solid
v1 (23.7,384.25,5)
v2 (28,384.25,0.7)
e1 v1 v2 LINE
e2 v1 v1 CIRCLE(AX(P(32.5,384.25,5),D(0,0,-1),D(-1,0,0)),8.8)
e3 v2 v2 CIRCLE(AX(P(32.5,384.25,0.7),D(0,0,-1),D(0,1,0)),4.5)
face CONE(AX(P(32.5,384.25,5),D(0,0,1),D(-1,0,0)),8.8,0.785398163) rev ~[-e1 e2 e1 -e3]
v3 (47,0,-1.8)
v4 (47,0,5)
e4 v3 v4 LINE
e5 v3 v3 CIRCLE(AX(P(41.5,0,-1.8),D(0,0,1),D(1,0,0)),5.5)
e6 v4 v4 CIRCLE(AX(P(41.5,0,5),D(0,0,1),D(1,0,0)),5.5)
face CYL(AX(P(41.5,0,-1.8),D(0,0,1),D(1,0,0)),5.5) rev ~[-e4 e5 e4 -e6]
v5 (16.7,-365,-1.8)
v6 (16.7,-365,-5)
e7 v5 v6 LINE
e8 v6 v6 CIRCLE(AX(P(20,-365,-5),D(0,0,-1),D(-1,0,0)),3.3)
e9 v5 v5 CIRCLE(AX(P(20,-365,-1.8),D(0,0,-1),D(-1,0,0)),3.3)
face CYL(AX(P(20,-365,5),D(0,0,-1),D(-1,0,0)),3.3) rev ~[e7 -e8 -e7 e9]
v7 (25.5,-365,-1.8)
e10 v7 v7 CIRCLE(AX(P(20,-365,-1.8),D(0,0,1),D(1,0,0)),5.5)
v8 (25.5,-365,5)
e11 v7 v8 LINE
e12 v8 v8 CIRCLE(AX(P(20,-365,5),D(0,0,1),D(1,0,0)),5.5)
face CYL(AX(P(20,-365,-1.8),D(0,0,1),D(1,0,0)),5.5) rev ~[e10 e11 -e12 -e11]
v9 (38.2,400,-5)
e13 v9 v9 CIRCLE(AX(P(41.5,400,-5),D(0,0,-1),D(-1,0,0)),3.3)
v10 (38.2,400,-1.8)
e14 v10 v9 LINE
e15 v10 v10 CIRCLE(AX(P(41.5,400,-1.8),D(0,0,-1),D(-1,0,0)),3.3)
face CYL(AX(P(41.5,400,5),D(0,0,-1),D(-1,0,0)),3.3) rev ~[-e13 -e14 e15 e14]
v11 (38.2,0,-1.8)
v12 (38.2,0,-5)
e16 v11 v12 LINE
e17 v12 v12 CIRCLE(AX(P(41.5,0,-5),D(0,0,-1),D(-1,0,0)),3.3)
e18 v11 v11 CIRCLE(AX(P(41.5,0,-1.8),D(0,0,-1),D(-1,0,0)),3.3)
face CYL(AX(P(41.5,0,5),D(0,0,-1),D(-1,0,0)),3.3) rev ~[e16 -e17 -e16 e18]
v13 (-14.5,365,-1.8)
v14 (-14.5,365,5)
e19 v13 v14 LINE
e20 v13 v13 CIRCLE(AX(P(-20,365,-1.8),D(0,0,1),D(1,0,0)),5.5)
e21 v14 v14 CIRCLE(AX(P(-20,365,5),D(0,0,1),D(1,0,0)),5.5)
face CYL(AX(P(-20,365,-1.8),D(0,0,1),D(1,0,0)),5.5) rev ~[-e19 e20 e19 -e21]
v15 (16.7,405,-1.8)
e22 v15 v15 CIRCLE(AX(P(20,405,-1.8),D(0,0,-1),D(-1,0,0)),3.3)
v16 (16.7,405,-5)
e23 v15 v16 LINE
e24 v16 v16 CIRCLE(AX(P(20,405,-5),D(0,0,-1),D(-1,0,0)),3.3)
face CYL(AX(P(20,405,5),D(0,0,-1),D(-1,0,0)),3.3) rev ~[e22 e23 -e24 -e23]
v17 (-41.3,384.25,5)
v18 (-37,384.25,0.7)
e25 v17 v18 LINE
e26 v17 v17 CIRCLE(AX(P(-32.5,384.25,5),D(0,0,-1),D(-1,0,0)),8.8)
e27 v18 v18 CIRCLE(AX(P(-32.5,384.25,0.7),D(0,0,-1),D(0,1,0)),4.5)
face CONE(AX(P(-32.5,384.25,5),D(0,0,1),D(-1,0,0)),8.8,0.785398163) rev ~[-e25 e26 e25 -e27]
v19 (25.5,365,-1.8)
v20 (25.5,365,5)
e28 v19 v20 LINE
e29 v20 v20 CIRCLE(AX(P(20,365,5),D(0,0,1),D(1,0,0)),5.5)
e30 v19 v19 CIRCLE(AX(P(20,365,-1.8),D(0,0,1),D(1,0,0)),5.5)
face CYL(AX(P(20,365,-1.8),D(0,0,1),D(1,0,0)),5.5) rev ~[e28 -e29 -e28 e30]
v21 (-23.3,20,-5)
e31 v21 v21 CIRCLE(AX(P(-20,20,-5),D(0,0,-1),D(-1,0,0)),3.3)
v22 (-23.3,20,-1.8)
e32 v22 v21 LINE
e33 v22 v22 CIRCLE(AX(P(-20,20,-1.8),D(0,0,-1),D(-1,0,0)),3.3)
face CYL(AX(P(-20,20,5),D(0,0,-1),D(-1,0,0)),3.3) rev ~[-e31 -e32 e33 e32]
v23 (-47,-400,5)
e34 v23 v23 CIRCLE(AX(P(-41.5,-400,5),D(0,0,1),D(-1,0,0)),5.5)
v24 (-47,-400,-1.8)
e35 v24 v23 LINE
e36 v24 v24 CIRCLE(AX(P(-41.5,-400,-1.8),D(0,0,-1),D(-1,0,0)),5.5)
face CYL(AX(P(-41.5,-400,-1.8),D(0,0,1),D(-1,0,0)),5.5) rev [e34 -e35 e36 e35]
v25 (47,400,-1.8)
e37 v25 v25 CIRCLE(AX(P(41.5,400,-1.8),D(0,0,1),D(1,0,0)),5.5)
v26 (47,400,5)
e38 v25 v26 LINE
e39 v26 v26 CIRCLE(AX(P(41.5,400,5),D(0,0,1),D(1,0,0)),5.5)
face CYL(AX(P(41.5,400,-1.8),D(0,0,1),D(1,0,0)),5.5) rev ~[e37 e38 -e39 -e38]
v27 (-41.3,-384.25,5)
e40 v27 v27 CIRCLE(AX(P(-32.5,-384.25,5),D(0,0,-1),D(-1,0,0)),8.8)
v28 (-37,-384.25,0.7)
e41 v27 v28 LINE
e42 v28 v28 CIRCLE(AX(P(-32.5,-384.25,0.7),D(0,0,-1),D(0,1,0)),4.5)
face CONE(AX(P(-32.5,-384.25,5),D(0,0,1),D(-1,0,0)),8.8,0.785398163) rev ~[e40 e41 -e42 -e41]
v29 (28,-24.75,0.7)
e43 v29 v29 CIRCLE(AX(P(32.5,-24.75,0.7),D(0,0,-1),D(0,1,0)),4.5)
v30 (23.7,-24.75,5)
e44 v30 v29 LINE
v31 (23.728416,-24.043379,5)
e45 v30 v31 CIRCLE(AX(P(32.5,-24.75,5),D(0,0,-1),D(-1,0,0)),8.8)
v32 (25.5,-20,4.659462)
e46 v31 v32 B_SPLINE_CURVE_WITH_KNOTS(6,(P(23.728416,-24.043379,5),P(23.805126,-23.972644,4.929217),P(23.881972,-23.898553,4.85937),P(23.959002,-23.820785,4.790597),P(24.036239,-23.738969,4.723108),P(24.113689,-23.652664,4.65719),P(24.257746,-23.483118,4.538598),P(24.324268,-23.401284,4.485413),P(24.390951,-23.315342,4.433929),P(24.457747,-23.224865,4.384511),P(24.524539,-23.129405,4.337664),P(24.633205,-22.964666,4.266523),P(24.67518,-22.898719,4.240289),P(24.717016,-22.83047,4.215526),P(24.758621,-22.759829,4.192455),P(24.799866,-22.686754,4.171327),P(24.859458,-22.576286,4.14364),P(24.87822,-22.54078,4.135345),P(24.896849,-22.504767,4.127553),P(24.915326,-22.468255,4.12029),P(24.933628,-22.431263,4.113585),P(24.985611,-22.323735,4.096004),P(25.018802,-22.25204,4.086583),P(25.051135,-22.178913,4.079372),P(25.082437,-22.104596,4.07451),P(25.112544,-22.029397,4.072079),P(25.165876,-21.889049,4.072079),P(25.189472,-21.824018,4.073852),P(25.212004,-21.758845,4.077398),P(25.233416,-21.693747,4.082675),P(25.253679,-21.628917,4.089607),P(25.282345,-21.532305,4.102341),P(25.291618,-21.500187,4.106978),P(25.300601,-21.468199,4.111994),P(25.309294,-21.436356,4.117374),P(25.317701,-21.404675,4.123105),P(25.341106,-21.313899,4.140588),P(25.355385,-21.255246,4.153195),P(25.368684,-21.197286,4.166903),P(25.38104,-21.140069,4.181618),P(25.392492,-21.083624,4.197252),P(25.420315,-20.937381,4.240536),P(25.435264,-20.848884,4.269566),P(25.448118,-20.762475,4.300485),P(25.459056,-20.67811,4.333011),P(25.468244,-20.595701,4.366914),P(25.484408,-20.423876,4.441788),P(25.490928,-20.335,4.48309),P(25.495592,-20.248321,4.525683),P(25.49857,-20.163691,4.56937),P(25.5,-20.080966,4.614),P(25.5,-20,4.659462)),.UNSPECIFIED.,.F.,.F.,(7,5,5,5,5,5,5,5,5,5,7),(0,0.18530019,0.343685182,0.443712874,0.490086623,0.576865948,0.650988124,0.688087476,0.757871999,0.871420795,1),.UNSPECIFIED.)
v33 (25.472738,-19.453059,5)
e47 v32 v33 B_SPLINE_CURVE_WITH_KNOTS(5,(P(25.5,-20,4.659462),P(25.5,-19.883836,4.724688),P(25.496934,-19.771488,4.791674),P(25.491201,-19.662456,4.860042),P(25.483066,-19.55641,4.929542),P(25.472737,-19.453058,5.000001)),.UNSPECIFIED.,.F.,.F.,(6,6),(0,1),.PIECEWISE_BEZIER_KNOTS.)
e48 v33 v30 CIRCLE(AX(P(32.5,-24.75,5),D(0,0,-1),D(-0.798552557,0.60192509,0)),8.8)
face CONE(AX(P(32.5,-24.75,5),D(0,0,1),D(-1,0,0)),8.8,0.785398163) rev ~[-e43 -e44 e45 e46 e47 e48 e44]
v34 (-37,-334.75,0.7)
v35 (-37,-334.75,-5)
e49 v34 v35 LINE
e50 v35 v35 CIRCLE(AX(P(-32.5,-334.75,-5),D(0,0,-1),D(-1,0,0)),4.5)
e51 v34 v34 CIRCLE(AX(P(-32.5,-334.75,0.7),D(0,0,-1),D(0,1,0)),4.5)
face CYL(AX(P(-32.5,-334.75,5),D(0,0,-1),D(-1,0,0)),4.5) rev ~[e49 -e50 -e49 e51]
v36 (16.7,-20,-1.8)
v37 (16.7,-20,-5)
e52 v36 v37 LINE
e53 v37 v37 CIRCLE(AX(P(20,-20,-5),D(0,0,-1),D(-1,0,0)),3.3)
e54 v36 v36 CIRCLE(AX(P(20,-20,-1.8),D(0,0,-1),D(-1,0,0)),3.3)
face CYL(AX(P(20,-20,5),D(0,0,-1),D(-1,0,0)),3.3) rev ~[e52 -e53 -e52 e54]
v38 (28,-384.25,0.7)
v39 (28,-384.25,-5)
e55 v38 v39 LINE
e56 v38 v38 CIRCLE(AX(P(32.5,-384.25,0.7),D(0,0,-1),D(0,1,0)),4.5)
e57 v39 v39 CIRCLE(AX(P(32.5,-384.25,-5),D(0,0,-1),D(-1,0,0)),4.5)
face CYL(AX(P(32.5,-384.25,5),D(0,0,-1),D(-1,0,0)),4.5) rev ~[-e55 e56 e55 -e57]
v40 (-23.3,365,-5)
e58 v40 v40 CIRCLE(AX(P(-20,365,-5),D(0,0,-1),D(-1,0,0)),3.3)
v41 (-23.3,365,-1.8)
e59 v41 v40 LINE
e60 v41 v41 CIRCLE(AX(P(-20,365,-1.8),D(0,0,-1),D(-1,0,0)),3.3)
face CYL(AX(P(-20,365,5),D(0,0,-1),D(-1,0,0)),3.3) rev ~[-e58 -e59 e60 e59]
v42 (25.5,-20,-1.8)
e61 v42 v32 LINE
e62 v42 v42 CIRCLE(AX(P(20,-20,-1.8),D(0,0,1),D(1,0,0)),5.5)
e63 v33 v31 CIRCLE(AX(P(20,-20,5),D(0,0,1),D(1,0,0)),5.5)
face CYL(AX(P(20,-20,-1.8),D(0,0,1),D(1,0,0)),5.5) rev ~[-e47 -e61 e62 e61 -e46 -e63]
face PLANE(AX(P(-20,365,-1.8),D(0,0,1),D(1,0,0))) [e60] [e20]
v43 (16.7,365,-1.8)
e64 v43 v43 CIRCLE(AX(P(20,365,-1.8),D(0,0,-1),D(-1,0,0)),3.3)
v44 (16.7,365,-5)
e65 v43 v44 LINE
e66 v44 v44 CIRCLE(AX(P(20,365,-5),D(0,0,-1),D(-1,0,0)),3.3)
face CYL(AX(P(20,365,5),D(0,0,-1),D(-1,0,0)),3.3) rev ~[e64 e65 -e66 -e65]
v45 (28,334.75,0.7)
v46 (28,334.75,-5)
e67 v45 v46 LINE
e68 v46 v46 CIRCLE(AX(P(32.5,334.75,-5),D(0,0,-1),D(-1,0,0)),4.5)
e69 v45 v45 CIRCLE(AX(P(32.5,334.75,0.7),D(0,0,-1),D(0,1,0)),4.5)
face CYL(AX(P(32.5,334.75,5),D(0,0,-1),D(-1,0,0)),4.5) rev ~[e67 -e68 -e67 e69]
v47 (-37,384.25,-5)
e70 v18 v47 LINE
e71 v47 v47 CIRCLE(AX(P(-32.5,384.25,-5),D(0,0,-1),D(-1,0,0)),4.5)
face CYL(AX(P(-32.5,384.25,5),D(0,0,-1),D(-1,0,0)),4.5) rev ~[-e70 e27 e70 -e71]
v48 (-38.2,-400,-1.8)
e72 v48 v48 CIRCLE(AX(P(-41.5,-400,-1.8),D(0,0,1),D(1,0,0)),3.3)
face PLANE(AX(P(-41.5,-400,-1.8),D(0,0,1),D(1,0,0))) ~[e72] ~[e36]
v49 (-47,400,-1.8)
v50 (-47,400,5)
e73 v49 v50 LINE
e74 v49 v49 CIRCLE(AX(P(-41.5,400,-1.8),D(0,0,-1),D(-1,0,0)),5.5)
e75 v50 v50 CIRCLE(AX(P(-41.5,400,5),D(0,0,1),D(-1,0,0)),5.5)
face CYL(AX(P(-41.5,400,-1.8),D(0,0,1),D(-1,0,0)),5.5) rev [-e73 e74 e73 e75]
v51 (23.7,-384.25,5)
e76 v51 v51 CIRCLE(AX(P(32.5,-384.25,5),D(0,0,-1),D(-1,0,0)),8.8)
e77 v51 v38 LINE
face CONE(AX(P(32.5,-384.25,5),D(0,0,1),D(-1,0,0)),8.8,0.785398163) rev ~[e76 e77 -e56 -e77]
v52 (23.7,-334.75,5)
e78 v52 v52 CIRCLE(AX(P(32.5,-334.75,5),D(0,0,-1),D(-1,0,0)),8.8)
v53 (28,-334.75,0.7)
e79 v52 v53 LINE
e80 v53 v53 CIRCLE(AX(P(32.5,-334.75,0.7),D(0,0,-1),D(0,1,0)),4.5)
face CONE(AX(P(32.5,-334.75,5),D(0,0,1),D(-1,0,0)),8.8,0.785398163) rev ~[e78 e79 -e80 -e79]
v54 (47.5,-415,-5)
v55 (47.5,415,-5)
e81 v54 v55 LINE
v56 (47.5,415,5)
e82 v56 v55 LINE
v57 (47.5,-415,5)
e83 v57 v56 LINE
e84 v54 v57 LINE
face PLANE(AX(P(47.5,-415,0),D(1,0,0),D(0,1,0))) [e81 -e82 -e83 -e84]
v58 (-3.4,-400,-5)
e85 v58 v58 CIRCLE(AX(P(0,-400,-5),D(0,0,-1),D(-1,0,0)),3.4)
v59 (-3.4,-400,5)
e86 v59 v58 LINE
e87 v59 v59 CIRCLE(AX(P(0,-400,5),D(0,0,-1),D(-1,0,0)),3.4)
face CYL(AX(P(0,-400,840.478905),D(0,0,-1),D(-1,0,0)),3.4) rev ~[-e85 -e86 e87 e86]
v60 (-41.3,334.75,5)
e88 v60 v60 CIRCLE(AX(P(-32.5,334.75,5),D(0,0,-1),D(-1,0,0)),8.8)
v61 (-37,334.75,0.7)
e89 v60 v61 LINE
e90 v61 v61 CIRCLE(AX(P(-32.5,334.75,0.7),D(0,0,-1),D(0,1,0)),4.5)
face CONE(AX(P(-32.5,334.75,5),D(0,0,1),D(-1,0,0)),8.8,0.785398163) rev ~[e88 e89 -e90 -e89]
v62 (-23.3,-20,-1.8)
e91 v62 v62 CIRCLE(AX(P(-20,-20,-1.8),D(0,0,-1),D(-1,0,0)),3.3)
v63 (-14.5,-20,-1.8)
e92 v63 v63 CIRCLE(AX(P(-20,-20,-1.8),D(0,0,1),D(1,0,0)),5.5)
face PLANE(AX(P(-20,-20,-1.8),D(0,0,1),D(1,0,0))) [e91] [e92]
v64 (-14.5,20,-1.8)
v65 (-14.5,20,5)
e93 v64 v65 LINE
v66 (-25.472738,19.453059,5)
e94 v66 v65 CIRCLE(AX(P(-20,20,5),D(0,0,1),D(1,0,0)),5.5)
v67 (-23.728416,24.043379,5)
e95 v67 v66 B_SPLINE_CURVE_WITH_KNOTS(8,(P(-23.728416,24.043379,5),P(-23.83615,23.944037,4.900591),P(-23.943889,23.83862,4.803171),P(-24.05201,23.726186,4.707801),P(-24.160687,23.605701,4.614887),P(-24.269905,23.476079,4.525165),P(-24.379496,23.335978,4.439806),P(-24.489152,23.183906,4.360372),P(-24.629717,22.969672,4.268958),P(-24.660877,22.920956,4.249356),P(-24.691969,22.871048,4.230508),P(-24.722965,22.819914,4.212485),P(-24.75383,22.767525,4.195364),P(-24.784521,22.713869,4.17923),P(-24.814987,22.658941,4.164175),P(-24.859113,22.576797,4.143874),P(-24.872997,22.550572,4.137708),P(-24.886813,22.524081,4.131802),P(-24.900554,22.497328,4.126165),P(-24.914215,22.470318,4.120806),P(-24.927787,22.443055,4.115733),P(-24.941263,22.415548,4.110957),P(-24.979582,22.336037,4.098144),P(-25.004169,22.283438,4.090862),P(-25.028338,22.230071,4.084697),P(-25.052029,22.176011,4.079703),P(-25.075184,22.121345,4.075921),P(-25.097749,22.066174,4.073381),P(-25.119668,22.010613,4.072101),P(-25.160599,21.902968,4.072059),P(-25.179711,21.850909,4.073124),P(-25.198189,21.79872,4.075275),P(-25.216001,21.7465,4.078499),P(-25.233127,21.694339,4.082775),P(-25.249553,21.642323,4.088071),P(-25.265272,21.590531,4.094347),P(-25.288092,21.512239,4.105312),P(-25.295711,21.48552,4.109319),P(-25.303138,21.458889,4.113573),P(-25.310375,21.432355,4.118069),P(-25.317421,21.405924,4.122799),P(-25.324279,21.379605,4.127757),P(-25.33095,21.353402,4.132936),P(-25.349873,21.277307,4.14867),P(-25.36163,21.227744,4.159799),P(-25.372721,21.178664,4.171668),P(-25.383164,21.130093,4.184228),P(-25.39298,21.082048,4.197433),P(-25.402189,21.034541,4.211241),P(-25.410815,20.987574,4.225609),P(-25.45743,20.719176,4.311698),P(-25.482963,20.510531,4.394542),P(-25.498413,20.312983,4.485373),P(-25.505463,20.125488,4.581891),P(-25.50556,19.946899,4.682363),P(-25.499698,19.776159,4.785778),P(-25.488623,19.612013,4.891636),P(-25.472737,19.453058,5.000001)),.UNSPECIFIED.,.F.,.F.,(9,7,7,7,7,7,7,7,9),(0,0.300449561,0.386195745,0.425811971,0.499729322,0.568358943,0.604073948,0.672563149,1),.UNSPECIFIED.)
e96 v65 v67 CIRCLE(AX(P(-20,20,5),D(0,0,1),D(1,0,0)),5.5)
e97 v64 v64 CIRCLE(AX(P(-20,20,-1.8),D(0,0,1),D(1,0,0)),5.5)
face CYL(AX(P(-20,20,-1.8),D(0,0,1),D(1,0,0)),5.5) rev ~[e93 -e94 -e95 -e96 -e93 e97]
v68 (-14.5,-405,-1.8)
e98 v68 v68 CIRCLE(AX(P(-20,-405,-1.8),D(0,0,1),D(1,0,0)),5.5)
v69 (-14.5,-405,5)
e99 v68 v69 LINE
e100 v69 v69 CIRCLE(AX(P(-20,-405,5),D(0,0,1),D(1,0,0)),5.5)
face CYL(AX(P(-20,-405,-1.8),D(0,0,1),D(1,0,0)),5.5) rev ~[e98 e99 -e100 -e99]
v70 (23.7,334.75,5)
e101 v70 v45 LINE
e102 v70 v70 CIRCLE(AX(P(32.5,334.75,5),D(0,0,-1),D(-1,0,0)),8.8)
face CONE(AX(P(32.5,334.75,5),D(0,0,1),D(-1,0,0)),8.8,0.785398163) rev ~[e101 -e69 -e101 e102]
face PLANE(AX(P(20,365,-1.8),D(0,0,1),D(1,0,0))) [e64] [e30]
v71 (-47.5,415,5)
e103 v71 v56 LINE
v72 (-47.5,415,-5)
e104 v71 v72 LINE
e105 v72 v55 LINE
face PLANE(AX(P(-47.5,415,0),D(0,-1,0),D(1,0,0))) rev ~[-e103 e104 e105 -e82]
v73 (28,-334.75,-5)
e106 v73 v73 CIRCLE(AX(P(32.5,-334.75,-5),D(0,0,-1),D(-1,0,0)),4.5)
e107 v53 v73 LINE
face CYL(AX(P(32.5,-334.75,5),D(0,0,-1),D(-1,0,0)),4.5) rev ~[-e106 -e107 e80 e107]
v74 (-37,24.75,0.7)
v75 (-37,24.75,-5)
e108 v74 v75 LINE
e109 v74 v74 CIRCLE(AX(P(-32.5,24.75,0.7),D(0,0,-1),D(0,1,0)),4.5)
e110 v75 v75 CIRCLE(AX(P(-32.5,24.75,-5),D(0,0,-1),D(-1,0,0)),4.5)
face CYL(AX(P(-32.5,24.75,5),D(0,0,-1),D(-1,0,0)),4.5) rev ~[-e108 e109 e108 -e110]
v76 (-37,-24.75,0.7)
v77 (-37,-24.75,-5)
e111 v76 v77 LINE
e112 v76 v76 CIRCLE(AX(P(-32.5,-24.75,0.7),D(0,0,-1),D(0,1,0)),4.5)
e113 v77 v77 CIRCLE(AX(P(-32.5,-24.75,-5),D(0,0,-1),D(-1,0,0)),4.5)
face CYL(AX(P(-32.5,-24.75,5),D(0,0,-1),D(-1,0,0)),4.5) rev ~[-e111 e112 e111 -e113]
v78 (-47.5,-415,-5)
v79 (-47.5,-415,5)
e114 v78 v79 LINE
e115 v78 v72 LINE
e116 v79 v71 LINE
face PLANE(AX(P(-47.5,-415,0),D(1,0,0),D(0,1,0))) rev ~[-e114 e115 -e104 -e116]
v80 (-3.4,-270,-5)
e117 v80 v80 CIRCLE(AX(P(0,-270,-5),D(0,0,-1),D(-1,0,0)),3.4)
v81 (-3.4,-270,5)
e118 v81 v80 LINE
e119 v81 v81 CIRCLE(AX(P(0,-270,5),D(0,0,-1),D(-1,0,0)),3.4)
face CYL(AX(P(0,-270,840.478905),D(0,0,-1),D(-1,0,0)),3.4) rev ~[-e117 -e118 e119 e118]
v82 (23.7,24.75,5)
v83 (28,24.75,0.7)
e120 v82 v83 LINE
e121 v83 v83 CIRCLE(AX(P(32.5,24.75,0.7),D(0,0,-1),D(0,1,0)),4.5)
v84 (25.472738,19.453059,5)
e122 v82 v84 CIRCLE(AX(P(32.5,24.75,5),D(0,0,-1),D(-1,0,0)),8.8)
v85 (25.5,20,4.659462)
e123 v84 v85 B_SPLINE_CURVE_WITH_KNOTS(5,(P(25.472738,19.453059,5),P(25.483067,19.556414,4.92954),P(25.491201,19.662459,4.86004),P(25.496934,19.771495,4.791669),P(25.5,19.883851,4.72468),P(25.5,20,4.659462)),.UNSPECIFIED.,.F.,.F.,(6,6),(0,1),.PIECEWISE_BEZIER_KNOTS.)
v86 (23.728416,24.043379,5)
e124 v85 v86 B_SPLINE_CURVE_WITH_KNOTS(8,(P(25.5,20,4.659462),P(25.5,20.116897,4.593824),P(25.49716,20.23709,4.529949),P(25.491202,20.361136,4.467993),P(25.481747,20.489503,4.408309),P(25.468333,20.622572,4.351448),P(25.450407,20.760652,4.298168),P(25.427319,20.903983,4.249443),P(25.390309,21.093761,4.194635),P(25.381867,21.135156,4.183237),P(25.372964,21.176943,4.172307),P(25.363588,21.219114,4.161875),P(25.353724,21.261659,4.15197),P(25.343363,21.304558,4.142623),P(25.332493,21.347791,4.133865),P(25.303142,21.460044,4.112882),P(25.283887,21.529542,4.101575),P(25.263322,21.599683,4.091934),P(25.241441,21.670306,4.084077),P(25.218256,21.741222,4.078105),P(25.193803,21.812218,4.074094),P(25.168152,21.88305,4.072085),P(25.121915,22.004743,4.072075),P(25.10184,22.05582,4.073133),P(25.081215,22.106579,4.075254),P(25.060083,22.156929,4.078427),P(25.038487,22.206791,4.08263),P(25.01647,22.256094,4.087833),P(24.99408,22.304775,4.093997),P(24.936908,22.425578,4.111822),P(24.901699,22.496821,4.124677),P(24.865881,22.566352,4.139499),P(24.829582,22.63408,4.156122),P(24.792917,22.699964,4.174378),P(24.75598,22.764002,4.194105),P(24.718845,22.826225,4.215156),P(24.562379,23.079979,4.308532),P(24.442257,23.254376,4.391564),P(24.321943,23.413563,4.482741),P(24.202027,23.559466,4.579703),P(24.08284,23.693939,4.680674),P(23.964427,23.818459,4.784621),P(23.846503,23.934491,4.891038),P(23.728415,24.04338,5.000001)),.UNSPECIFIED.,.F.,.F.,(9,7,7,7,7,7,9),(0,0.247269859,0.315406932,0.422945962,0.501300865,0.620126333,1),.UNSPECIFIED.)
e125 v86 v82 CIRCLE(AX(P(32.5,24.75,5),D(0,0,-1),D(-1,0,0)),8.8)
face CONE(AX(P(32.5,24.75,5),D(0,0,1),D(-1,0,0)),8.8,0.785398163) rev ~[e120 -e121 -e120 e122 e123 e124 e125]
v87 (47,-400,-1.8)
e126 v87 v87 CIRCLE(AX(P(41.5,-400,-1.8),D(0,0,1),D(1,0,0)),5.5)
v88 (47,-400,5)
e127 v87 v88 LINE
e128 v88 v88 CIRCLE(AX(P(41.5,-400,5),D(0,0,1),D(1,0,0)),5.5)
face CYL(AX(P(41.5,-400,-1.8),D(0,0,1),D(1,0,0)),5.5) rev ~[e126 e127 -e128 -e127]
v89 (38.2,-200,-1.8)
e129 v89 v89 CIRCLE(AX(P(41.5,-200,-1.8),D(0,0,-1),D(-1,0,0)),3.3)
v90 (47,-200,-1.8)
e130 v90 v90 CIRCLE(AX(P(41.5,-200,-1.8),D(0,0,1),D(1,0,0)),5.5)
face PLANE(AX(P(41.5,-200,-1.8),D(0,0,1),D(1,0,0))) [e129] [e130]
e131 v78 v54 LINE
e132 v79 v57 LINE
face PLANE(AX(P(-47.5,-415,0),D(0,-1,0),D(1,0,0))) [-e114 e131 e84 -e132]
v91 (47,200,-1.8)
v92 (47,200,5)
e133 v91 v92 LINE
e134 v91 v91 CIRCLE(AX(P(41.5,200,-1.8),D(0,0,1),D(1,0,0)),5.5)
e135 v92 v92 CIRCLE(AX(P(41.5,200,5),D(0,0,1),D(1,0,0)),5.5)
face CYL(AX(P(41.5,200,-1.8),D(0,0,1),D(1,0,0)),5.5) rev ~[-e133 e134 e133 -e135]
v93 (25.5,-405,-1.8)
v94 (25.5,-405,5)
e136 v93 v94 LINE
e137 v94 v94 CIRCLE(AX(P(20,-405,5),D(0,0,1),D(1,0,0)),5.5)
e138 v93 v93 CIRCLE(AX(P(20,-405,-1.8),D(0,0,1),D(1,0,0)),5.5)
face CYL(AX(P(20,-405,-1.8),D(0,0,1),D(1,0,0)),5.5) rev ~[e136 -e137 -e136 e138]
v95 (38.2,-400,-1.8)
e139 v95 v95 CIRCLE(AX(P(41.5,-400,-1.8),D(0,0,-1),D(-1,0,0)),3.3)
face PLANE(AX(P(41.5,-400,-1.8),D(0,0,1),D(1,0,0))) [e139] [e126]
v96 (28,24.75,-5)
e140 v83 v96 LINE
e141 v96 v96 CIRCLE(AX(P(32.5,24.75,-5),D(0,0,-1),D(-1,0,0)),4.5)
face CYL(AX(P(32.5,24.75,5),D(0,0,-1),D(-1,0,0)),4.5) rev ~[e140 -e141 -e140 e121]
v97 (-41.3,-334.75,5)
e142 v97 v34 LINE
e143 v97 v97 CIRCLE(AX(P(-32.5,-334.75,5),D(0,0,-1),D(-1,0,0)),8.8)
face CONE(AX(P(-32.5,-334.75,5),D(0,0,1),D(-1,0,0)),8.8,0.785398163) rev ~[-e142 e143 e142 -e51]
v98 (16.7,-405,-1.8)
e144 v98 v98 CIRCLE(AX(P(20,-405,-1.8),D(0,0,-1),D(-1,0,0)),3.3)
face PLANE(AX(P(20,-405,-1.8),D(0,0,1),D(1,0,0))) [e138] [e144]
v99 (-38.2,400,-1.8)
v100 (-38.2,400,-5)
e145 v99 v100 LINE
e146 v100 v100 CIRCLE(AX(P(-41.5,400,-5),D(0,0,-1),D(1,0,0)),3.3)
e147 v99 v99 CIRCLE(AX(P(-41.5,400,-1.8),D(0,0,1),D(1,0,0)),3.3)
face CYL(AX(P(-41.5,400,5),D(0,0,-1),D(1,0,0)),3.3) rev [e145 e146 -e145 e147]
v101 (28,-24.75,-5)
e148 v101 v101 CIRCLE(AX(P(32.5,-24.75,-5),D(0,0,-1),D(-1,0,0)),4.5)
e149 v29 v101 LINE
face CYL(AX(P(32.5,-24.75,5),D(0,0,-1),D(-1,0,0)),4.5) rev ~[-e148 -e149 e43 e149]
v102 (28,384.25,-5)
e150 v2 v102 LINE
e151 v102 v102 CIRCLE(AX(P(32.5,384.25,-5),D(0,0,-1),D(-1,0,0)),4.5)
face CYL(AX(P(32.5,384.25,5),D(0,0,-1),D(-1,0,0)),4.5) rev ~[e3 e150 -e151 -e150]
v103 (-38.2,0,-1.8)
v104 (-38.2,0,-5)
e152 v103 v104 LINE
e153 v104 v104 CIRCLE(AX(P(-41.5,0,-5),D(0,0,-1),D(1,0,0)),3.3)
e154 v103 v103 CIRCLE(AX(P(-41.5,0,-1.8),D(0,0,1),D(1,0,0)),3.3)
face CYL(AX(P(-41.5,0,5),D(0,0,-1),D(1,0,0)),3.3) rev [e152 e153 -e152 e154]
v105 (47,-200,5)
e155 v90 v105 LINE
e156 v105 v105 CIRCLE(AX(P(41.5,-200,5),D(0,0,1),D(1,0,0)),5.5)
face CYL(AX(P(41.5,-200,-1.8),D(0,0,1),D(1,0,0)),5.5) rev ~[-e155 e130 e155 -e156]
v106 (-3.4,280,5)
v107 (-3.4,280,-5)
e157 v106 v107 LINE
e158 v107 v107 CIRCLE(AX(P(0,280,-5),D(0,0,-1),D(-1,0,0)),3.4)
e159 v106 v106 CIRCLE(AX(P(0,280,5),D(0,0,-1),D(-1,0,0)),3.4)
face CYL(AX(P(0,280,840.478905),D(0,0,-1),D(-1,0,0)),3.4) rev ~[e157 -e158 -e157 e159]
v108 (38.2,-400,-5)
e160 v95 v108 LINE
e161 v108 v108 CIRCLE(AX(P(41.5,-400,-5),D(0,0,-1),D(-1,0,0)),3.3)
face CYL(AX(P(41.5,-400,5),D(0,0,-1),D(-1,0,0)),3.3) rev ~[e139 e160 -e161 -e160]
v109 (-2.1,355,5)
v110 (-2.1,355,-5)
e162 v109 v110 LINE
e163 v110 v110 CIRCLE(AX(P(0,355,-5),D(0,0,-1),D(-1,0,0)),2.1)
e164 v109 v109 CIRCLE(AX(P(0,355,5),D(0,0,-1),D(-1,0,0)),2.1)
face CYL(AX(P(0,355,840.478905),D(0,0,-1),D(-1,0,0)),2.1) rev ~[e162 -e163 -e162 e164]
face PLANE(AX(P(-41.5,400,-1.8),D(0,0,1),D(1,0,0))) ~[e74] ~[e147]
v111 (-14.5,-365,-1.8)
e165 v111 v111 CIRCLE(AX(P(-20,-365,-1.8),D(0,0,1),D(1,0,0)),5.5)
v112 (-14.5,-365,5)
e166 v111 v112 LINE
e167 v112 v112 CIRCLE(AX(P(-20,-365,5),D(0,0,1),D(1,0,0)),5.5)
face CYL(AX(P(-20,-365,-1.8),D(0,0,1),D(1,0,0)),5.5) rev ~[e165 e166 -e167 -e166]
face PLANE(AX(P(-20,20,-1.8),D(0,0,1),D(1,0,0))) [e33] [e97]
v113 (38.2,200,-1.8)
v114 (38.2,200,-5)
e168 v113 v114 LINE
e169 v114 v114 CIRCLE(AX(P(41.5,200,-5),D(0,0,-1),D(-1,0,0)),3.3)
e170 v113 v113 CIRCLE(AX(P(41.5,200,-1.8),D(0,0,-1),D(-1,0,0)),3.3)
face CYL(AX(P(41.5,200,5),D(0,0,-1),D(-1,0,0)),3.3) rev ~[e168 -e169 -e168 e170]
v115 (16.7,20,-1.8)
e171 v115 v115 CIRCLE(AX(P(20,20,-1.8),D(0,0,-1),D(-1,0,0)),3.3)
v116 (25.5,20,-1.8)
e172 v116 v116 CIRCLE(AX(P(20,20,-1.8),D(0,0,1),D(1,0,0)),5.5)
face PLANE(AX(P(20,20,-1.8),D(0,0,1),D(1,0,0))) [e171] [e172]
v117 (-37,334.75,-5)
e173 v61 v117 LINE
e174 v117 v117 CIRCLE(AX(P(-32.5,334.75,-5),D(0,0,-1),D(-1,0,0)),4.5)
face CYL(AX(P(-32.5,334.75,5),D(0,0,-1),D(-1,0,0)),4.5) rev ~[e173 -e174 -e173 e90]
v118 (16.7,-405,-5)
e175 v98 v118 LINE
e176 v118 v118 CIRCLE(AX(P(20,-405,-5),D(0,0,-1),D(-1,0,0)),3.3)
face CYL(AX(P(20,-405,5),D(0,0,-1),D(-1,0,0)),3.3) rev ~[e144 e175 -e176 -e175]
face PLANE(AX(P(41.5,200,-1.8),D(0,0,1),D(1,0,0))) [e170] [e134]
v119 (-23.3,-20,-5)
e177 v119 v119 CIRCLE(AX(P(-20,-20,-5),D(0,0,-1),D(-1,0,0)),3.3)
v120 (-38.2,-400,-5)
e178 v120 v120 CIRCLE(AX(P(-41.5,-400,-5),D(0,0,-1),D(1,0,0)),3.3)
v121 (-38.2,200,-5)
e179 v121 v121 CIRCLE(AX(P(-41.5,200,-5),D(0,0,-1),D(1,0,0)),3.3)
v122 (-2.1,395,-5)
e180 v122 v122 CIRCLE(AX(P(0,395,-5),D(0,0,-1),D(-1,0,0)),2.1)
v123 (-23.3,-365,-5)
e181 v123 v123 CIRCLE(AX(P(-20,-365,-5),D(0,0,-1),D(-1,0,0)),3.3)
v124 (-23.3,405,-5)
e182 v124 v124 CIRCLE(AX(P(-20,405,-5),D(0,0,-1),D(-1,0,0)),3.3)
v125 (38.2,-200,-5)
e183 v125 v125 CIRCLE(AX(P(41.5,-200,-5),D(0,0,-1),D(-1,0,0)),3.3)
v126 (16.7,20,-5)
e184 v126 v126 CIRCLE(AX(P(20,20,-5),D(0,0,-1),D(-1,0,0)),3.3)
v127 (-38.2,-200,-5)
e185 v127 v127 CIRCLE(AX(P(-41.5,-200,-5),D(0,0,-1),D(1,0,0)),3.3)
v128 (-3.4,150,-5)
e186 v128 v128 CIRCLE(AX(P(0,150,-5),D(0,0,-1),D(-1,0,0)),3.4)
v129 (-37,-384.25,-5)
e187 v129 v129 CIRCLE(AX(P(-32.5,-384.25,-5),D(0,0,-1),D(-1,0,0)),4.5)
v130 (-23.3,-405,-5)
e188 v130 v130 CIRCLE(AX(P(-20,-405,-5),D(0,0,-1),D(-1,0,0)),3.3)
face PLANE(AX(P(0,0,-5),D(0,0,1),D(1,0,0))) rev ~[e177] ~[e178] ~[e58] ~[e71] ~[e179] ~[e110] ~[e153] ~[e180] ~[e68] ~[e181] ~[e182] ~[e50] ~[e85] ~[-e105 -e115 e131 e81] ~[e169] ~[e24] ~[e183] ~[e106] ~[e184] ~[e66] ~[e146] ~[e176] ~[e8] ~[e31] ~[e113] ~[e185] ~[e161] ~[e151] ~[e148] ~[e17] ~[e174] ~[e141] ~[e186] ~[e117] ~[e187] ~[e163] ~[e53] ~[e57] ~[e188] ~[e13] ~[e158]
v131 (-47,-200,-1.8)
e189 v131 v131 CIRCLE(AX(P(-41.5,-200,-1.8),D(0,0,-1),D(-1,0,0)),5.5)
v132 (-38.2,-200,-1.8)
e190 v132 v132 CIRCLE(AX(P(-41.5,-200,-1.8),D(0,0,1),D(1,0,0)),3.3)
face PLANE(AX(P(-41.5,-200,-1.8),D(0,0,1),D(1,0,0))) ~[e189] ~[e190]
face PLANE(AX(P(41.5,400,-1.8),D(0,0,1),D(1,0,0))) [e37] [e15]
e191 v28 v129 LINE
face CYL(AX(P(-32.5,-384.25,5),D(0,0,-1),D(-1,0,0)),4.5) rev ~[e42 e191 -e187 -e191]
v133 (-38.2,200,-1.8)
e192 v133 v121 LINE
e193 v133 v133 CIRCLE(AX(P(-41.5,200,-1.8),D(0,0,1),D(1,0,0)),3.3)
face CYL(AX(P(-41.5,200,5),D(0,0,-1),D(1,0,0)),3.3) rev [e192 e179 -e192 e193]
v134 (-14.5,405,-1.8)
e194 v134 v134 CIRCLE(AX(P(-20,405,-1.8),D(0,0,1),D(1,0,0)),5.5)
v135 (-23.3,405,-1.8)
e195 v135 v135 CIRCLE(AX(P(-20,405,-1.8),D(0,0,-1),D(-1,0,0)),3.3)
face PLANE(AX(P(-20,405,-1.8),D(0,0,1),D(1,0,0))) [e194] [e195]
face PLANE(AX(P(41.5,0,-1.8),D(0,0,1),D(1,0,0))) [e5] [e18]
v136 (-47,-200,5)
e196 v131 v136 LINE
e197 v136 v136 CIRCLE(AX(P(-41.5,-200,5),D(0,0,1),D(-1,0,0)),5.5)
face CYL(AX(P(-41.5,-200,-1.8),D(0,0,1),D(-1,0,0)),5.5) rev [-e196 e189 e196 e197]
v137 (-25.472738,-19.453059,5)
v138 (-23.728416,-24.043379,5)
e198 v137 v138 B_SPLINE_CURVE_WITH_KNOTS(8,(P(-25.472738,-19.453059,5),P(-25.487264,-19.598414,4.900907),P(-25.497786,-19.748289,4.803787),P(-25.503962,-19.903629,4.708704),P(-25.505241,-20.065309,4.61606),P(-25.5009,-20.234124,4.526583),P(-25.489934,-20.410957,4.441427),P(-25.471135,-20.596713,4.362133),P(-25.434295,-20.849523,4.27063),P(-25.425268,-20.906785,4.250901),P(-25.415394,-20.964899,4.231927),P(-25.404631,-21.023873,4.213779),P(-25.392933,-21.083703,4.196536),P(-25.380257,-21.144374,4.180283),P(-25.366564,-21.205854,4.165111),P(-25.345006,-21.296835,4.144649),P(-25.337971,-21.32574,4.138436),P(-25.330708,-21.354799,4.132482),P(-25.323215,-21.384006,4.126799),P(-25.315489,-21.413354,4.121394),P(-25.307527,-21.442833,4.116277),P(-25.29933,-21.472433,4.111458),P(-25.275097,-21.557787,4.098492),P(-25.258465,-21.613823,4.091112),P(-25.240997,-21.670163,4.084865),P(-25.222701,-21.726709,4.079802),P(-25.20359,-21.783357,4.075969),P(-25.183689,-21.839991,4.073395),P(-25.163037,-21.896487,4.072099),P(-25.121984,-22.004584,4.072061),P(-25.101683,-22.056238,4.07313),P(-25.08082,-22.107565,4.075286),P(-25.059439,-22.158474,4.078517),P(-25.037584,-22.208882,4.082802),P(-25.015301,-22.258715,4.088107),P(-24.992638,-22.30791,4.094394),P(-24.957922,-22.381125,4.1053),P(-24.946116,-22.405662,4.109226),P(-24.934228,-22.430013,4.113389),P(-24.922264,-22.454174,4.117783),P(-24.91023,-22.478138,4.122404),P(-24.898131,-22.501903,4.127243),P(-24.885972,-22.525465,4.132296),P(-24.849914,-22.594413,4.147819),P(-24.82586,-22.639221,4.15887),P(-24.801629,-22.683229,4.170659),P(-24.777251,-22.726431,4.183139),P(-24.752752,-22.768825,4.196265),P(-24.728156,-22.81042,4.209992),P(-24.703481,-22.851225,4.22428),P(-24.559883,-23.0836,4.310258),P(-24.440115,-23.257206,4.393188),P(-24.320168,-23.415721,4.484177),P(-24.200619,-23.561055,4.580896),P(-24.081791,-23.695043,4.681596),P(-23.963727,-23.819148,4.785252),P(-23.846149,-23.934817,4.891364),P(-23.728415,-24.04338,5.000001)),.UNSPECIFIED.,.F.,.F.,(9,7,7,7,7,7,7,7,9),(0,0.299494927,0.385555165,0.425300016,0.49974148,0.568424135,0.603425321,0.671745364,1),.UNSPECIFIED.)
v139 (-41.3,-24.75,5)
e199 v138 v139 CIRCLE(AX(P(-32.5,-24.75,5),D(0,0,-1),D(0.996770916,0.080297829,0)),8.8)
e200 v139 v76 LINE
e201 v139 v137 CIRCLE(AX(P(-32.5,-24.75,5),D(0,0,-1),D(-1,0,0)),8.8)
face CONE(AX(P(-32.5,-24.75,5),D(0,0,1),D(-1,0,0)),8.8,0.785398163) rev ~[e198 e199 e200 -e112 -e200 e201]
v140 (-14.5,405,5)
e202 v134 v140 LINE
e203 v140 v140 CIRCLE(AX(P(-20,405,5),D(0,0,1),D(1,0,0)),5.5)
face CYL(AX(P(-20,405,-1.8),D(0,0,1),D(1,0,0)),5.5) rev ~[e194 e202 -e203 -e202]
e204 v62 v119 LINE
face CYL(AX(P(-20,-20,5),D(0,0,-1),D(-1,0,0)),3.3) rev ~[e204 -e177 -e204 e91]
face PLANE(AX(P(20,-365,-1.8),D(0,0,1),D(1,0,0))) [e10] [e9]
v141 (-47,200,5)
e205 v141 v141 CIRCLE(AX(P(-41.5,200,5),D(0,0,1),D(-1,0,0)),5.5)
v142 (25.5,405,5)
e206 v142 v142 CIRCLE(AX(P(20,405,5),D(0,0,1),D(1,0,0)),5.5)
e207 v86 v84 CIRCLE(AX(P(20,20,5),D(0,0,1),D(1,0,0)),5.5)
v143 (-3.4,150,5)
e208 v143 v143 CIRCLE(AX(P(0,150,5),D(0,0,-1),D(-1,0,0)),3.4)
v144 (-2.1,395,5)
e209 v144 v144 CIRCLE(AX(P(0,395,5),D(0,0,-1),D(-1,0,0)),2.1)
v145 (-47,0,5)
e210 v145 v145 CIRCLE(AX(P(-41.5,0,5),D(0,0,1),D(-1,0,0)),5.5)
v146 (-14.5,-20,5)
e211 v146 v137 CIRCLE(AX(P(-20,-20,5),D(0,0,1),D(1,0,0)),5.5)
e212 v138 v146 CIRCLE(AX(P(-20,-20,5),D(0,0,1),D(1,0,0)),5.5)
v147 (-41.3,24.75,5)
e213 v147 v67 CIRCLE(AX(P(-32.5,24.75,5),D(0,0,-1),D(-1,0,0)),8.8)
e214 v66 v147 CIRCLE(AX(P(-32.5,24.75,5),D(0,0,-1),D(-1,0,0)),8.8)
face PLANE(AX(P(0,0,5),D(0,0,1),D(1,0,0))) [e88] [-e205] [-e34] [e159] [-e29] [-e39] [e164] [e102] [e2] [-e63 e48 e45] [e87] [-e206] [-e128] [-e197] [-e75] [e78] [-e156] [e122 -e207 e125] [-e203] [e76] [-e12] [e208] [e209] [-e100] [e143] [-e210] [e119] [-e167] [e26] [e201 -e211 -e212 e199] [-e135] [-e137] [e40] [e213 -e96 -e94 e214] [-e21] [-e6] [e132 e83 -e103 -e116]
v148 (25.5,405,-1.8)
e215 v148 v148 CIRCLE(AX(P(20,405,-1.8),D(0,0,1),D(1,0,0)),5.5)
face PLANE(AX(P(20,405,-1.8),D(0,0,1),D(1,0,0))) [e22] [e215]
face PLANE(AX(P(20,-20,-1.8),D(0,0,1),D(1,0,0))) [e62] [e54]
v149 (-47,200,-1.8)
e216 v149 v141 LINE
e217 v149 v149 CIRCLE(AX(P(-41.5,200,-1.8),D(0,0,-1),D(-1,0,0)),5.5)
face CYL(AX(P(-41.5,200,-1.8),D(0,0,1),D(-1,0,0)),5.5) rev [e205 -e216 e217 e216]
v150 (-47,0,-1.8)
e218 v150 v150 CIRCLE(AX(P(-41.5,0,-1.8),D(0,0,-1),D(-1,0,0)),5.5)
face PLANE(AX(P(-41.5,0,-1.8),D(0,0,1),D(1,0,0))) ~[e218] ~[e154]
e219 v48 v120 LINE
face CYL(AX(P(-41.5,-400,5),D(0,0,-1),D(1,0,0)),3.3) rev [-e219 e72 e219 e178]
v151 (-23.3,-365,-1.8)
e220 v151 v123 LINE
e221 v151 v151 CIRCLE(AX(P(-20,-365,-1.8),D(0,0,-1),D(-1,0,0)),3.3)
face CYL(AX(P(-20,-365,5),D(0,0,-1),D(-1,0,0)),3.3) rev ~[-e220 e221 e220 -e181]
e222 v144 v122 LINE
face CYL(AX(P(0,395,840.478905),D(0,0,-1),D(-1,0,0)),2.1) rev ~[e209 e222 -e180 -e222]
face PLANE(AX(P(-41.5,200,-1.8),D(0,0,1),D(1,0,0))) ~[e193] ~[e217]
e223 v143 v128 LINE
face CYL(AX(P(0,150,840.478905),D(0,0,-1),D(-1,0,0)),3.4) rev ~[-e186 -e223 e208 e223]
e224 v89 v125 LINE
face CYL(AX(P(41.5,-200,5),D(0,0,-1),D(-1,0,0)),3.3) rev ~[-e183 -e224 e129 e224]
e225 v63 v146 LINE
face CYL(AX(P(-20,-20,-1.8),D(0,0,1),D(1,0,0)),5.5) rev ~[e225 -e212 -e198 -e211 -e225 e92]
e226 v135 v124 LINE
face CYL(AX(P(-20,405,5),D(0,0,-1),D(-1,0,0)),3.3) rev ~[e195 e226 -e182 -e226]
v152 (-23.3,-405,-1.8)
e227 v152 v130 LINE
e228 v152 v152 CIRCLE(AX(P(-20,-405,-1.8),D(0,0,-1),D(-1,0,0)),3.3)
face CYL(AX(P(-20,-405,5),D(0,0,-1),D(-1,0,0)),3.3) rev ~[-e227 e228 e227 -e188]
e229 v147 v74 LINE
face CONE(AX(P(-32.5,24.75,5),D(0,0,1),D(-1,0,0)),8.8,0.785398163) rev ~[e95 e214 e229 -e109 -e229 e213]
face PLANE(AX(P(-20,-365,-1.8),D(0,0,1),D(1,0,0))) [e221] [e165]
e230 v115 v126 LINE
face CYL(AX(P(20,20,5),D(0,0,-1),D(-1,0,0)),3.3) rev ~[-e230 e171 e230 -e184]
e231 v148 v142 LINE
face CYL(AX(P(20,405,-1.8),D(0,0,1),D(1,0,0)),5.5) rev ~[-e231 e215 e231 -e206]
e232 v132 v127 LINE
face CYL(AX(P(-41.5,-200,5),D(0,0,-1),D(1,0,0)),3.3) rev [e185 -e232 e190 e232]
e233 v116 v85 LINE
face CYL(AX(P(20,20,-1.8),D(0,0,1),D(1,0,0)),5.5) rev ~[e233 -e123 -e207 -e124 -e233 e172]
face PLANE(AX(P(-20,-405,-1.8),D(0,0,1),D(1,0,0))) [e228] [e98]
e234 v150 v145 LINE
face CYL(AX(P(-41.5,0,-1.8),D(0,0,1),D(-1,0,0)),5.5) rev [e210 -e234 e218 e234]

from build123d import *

# Parameters (mm, degrees)
SKETCH_1_W                  = 95
SKETCH_1_H                  = 830
EXTRUDE_1_DEPTH             = 5
HOLE_WIZARD_1_D             = 6.6
HOLE_WIZARD_1_CBORE_D       = 11
HOLE_WIZARD_1_CBORE_DEPTH   = 6.8
HOLE_WIZARD_M8_1_D          = 6.8
HOLE_WIZARD_M8_2_D          = 6.8
HOLE_WIZARD_2_D             = 6.6
HOLE_WIZARD_2_DEPTH         = 10.001
HOLE_WIZARD_2_CBORE_D       = 11
HOLE_WIZARD_2_CBORE_DEPTH   = 6.8
HOLE_WIZARD_M5_1_D          = 4.2
HOLE_WIZARD_1_2_D           = 9
HOLE_WIZARD_1_2_CSINK_D     = 17.6
HOLE_WIZARD_1_2_CSINK_ANGLE = 90


with BuildPart() as part:
    # 草图1 → 凸台-拉伸1 (new body, symmetric)
    with BuildSketch(Plane.XY):
        Rectangle(SKETCH_1_W, SKETCH_1_H)
    extrude(amount=EXTRUDE_1_DEPTH, both=True)

    # Hole Wizard 1 (through all)
    with Locations(Plane(origin=(-20, -365, 5), x_dir=(1, 0, 0), z_dir=(0, 0, 1))):
        with Locations((0, 0), (40, 0), (40, -40), (0, -40), (0, 385), (40, 385), (40, 345), (0, 345), (0, 770), (40, 770), (40, 730), (0, 730)):
            CounterBoreHole(HOLE_WIZARD_1_D / 2, HOLE_WIZARD_1_CBORE_D / 2, HOLE_WIZARD_1_CBORE_DEPTH)

    # M8 螺纹孔1 (through all)
    with Locations(Plane(origin=(0, -400, 5), x_dir=(1, 0, 0), z_dir=(0, 0, 1))):
        with Locations((0, 0), (0, 130)):
            Hole(HOLE_WIZARD_M8_1_D / 2)

    # M8 螺纹孔2 (through all)
    with Locations(Plane(origin=(0, 280, 5), x_dir=(1, 0, 0), z_dir=(0, 0, 1))):
        with Locations((0, 0), (0, -130)):
            Hole(HOLE_WIZARD_M8_2_D / 2)

    # 打孔尺寸(%根据)内六角圆柱头螺钉的类型2
    with Locations(Plane(origin=(41.5, 400, 5), x_dir=(1, 0, 0), z_dir=(0, 0, 1))):
        with Locations((0, 0), (0, -200), (0, -400), (0, -600), (0, -800)):
            hole_wizard_2 = CounterBoreHole(HOLE_WIZARD_2_D / 2, HOLE_WIZARD_2_CBORE_D / 2, HOLE_WIZARD_2_CBORE_DEPTH, depth=HOLE_WIZARD_2_DEPTH)

    # 镜向1: 打孔尺寸(%根据)内六角圆柱头螺钉的类型2 across plane
    add(hole_wizard_2.mirror(Plane(origin=(0, 0, 0), x_dir=(0, 0, 1), z_dir=(1, 0, 0))), mode=Mode.SUBTRACT)

    # M5 螺纹孔1 (through all)
    with Locations(Plane(origin=(0, 395, 5), x_dir=(1, 0, 0), z_dir=(0, 0, 1))):
        with Locations((0, 0), (0, -40)):
            Hole(HOLE_WIZARD_M5_1_D / 2)

    # Hole Wizard 1 2 (through all)
    with Locations(Plane(origin=(-32.5, 24.75, 5), x_dir=(1, 0, 0), z_dir=(0, 0, 1))):
        with Locations((0, 0), (65, 0), (65, -49.5), (0, -49.5), (0, 359.5), (65, 359.5), (65, 310), (0, 310), (0, -359.5), (65, -359.5), (65, -409), (0, -409)):
            CounterSinkHole(HOLE_WIZARD_1_2_D / 2, HOLE_WIZARD_1_2_CSINK_D / 2, counter_sink_angle=HOLE_WIZARD_1_2_CSINK_ANGLE)


solid = part.part
